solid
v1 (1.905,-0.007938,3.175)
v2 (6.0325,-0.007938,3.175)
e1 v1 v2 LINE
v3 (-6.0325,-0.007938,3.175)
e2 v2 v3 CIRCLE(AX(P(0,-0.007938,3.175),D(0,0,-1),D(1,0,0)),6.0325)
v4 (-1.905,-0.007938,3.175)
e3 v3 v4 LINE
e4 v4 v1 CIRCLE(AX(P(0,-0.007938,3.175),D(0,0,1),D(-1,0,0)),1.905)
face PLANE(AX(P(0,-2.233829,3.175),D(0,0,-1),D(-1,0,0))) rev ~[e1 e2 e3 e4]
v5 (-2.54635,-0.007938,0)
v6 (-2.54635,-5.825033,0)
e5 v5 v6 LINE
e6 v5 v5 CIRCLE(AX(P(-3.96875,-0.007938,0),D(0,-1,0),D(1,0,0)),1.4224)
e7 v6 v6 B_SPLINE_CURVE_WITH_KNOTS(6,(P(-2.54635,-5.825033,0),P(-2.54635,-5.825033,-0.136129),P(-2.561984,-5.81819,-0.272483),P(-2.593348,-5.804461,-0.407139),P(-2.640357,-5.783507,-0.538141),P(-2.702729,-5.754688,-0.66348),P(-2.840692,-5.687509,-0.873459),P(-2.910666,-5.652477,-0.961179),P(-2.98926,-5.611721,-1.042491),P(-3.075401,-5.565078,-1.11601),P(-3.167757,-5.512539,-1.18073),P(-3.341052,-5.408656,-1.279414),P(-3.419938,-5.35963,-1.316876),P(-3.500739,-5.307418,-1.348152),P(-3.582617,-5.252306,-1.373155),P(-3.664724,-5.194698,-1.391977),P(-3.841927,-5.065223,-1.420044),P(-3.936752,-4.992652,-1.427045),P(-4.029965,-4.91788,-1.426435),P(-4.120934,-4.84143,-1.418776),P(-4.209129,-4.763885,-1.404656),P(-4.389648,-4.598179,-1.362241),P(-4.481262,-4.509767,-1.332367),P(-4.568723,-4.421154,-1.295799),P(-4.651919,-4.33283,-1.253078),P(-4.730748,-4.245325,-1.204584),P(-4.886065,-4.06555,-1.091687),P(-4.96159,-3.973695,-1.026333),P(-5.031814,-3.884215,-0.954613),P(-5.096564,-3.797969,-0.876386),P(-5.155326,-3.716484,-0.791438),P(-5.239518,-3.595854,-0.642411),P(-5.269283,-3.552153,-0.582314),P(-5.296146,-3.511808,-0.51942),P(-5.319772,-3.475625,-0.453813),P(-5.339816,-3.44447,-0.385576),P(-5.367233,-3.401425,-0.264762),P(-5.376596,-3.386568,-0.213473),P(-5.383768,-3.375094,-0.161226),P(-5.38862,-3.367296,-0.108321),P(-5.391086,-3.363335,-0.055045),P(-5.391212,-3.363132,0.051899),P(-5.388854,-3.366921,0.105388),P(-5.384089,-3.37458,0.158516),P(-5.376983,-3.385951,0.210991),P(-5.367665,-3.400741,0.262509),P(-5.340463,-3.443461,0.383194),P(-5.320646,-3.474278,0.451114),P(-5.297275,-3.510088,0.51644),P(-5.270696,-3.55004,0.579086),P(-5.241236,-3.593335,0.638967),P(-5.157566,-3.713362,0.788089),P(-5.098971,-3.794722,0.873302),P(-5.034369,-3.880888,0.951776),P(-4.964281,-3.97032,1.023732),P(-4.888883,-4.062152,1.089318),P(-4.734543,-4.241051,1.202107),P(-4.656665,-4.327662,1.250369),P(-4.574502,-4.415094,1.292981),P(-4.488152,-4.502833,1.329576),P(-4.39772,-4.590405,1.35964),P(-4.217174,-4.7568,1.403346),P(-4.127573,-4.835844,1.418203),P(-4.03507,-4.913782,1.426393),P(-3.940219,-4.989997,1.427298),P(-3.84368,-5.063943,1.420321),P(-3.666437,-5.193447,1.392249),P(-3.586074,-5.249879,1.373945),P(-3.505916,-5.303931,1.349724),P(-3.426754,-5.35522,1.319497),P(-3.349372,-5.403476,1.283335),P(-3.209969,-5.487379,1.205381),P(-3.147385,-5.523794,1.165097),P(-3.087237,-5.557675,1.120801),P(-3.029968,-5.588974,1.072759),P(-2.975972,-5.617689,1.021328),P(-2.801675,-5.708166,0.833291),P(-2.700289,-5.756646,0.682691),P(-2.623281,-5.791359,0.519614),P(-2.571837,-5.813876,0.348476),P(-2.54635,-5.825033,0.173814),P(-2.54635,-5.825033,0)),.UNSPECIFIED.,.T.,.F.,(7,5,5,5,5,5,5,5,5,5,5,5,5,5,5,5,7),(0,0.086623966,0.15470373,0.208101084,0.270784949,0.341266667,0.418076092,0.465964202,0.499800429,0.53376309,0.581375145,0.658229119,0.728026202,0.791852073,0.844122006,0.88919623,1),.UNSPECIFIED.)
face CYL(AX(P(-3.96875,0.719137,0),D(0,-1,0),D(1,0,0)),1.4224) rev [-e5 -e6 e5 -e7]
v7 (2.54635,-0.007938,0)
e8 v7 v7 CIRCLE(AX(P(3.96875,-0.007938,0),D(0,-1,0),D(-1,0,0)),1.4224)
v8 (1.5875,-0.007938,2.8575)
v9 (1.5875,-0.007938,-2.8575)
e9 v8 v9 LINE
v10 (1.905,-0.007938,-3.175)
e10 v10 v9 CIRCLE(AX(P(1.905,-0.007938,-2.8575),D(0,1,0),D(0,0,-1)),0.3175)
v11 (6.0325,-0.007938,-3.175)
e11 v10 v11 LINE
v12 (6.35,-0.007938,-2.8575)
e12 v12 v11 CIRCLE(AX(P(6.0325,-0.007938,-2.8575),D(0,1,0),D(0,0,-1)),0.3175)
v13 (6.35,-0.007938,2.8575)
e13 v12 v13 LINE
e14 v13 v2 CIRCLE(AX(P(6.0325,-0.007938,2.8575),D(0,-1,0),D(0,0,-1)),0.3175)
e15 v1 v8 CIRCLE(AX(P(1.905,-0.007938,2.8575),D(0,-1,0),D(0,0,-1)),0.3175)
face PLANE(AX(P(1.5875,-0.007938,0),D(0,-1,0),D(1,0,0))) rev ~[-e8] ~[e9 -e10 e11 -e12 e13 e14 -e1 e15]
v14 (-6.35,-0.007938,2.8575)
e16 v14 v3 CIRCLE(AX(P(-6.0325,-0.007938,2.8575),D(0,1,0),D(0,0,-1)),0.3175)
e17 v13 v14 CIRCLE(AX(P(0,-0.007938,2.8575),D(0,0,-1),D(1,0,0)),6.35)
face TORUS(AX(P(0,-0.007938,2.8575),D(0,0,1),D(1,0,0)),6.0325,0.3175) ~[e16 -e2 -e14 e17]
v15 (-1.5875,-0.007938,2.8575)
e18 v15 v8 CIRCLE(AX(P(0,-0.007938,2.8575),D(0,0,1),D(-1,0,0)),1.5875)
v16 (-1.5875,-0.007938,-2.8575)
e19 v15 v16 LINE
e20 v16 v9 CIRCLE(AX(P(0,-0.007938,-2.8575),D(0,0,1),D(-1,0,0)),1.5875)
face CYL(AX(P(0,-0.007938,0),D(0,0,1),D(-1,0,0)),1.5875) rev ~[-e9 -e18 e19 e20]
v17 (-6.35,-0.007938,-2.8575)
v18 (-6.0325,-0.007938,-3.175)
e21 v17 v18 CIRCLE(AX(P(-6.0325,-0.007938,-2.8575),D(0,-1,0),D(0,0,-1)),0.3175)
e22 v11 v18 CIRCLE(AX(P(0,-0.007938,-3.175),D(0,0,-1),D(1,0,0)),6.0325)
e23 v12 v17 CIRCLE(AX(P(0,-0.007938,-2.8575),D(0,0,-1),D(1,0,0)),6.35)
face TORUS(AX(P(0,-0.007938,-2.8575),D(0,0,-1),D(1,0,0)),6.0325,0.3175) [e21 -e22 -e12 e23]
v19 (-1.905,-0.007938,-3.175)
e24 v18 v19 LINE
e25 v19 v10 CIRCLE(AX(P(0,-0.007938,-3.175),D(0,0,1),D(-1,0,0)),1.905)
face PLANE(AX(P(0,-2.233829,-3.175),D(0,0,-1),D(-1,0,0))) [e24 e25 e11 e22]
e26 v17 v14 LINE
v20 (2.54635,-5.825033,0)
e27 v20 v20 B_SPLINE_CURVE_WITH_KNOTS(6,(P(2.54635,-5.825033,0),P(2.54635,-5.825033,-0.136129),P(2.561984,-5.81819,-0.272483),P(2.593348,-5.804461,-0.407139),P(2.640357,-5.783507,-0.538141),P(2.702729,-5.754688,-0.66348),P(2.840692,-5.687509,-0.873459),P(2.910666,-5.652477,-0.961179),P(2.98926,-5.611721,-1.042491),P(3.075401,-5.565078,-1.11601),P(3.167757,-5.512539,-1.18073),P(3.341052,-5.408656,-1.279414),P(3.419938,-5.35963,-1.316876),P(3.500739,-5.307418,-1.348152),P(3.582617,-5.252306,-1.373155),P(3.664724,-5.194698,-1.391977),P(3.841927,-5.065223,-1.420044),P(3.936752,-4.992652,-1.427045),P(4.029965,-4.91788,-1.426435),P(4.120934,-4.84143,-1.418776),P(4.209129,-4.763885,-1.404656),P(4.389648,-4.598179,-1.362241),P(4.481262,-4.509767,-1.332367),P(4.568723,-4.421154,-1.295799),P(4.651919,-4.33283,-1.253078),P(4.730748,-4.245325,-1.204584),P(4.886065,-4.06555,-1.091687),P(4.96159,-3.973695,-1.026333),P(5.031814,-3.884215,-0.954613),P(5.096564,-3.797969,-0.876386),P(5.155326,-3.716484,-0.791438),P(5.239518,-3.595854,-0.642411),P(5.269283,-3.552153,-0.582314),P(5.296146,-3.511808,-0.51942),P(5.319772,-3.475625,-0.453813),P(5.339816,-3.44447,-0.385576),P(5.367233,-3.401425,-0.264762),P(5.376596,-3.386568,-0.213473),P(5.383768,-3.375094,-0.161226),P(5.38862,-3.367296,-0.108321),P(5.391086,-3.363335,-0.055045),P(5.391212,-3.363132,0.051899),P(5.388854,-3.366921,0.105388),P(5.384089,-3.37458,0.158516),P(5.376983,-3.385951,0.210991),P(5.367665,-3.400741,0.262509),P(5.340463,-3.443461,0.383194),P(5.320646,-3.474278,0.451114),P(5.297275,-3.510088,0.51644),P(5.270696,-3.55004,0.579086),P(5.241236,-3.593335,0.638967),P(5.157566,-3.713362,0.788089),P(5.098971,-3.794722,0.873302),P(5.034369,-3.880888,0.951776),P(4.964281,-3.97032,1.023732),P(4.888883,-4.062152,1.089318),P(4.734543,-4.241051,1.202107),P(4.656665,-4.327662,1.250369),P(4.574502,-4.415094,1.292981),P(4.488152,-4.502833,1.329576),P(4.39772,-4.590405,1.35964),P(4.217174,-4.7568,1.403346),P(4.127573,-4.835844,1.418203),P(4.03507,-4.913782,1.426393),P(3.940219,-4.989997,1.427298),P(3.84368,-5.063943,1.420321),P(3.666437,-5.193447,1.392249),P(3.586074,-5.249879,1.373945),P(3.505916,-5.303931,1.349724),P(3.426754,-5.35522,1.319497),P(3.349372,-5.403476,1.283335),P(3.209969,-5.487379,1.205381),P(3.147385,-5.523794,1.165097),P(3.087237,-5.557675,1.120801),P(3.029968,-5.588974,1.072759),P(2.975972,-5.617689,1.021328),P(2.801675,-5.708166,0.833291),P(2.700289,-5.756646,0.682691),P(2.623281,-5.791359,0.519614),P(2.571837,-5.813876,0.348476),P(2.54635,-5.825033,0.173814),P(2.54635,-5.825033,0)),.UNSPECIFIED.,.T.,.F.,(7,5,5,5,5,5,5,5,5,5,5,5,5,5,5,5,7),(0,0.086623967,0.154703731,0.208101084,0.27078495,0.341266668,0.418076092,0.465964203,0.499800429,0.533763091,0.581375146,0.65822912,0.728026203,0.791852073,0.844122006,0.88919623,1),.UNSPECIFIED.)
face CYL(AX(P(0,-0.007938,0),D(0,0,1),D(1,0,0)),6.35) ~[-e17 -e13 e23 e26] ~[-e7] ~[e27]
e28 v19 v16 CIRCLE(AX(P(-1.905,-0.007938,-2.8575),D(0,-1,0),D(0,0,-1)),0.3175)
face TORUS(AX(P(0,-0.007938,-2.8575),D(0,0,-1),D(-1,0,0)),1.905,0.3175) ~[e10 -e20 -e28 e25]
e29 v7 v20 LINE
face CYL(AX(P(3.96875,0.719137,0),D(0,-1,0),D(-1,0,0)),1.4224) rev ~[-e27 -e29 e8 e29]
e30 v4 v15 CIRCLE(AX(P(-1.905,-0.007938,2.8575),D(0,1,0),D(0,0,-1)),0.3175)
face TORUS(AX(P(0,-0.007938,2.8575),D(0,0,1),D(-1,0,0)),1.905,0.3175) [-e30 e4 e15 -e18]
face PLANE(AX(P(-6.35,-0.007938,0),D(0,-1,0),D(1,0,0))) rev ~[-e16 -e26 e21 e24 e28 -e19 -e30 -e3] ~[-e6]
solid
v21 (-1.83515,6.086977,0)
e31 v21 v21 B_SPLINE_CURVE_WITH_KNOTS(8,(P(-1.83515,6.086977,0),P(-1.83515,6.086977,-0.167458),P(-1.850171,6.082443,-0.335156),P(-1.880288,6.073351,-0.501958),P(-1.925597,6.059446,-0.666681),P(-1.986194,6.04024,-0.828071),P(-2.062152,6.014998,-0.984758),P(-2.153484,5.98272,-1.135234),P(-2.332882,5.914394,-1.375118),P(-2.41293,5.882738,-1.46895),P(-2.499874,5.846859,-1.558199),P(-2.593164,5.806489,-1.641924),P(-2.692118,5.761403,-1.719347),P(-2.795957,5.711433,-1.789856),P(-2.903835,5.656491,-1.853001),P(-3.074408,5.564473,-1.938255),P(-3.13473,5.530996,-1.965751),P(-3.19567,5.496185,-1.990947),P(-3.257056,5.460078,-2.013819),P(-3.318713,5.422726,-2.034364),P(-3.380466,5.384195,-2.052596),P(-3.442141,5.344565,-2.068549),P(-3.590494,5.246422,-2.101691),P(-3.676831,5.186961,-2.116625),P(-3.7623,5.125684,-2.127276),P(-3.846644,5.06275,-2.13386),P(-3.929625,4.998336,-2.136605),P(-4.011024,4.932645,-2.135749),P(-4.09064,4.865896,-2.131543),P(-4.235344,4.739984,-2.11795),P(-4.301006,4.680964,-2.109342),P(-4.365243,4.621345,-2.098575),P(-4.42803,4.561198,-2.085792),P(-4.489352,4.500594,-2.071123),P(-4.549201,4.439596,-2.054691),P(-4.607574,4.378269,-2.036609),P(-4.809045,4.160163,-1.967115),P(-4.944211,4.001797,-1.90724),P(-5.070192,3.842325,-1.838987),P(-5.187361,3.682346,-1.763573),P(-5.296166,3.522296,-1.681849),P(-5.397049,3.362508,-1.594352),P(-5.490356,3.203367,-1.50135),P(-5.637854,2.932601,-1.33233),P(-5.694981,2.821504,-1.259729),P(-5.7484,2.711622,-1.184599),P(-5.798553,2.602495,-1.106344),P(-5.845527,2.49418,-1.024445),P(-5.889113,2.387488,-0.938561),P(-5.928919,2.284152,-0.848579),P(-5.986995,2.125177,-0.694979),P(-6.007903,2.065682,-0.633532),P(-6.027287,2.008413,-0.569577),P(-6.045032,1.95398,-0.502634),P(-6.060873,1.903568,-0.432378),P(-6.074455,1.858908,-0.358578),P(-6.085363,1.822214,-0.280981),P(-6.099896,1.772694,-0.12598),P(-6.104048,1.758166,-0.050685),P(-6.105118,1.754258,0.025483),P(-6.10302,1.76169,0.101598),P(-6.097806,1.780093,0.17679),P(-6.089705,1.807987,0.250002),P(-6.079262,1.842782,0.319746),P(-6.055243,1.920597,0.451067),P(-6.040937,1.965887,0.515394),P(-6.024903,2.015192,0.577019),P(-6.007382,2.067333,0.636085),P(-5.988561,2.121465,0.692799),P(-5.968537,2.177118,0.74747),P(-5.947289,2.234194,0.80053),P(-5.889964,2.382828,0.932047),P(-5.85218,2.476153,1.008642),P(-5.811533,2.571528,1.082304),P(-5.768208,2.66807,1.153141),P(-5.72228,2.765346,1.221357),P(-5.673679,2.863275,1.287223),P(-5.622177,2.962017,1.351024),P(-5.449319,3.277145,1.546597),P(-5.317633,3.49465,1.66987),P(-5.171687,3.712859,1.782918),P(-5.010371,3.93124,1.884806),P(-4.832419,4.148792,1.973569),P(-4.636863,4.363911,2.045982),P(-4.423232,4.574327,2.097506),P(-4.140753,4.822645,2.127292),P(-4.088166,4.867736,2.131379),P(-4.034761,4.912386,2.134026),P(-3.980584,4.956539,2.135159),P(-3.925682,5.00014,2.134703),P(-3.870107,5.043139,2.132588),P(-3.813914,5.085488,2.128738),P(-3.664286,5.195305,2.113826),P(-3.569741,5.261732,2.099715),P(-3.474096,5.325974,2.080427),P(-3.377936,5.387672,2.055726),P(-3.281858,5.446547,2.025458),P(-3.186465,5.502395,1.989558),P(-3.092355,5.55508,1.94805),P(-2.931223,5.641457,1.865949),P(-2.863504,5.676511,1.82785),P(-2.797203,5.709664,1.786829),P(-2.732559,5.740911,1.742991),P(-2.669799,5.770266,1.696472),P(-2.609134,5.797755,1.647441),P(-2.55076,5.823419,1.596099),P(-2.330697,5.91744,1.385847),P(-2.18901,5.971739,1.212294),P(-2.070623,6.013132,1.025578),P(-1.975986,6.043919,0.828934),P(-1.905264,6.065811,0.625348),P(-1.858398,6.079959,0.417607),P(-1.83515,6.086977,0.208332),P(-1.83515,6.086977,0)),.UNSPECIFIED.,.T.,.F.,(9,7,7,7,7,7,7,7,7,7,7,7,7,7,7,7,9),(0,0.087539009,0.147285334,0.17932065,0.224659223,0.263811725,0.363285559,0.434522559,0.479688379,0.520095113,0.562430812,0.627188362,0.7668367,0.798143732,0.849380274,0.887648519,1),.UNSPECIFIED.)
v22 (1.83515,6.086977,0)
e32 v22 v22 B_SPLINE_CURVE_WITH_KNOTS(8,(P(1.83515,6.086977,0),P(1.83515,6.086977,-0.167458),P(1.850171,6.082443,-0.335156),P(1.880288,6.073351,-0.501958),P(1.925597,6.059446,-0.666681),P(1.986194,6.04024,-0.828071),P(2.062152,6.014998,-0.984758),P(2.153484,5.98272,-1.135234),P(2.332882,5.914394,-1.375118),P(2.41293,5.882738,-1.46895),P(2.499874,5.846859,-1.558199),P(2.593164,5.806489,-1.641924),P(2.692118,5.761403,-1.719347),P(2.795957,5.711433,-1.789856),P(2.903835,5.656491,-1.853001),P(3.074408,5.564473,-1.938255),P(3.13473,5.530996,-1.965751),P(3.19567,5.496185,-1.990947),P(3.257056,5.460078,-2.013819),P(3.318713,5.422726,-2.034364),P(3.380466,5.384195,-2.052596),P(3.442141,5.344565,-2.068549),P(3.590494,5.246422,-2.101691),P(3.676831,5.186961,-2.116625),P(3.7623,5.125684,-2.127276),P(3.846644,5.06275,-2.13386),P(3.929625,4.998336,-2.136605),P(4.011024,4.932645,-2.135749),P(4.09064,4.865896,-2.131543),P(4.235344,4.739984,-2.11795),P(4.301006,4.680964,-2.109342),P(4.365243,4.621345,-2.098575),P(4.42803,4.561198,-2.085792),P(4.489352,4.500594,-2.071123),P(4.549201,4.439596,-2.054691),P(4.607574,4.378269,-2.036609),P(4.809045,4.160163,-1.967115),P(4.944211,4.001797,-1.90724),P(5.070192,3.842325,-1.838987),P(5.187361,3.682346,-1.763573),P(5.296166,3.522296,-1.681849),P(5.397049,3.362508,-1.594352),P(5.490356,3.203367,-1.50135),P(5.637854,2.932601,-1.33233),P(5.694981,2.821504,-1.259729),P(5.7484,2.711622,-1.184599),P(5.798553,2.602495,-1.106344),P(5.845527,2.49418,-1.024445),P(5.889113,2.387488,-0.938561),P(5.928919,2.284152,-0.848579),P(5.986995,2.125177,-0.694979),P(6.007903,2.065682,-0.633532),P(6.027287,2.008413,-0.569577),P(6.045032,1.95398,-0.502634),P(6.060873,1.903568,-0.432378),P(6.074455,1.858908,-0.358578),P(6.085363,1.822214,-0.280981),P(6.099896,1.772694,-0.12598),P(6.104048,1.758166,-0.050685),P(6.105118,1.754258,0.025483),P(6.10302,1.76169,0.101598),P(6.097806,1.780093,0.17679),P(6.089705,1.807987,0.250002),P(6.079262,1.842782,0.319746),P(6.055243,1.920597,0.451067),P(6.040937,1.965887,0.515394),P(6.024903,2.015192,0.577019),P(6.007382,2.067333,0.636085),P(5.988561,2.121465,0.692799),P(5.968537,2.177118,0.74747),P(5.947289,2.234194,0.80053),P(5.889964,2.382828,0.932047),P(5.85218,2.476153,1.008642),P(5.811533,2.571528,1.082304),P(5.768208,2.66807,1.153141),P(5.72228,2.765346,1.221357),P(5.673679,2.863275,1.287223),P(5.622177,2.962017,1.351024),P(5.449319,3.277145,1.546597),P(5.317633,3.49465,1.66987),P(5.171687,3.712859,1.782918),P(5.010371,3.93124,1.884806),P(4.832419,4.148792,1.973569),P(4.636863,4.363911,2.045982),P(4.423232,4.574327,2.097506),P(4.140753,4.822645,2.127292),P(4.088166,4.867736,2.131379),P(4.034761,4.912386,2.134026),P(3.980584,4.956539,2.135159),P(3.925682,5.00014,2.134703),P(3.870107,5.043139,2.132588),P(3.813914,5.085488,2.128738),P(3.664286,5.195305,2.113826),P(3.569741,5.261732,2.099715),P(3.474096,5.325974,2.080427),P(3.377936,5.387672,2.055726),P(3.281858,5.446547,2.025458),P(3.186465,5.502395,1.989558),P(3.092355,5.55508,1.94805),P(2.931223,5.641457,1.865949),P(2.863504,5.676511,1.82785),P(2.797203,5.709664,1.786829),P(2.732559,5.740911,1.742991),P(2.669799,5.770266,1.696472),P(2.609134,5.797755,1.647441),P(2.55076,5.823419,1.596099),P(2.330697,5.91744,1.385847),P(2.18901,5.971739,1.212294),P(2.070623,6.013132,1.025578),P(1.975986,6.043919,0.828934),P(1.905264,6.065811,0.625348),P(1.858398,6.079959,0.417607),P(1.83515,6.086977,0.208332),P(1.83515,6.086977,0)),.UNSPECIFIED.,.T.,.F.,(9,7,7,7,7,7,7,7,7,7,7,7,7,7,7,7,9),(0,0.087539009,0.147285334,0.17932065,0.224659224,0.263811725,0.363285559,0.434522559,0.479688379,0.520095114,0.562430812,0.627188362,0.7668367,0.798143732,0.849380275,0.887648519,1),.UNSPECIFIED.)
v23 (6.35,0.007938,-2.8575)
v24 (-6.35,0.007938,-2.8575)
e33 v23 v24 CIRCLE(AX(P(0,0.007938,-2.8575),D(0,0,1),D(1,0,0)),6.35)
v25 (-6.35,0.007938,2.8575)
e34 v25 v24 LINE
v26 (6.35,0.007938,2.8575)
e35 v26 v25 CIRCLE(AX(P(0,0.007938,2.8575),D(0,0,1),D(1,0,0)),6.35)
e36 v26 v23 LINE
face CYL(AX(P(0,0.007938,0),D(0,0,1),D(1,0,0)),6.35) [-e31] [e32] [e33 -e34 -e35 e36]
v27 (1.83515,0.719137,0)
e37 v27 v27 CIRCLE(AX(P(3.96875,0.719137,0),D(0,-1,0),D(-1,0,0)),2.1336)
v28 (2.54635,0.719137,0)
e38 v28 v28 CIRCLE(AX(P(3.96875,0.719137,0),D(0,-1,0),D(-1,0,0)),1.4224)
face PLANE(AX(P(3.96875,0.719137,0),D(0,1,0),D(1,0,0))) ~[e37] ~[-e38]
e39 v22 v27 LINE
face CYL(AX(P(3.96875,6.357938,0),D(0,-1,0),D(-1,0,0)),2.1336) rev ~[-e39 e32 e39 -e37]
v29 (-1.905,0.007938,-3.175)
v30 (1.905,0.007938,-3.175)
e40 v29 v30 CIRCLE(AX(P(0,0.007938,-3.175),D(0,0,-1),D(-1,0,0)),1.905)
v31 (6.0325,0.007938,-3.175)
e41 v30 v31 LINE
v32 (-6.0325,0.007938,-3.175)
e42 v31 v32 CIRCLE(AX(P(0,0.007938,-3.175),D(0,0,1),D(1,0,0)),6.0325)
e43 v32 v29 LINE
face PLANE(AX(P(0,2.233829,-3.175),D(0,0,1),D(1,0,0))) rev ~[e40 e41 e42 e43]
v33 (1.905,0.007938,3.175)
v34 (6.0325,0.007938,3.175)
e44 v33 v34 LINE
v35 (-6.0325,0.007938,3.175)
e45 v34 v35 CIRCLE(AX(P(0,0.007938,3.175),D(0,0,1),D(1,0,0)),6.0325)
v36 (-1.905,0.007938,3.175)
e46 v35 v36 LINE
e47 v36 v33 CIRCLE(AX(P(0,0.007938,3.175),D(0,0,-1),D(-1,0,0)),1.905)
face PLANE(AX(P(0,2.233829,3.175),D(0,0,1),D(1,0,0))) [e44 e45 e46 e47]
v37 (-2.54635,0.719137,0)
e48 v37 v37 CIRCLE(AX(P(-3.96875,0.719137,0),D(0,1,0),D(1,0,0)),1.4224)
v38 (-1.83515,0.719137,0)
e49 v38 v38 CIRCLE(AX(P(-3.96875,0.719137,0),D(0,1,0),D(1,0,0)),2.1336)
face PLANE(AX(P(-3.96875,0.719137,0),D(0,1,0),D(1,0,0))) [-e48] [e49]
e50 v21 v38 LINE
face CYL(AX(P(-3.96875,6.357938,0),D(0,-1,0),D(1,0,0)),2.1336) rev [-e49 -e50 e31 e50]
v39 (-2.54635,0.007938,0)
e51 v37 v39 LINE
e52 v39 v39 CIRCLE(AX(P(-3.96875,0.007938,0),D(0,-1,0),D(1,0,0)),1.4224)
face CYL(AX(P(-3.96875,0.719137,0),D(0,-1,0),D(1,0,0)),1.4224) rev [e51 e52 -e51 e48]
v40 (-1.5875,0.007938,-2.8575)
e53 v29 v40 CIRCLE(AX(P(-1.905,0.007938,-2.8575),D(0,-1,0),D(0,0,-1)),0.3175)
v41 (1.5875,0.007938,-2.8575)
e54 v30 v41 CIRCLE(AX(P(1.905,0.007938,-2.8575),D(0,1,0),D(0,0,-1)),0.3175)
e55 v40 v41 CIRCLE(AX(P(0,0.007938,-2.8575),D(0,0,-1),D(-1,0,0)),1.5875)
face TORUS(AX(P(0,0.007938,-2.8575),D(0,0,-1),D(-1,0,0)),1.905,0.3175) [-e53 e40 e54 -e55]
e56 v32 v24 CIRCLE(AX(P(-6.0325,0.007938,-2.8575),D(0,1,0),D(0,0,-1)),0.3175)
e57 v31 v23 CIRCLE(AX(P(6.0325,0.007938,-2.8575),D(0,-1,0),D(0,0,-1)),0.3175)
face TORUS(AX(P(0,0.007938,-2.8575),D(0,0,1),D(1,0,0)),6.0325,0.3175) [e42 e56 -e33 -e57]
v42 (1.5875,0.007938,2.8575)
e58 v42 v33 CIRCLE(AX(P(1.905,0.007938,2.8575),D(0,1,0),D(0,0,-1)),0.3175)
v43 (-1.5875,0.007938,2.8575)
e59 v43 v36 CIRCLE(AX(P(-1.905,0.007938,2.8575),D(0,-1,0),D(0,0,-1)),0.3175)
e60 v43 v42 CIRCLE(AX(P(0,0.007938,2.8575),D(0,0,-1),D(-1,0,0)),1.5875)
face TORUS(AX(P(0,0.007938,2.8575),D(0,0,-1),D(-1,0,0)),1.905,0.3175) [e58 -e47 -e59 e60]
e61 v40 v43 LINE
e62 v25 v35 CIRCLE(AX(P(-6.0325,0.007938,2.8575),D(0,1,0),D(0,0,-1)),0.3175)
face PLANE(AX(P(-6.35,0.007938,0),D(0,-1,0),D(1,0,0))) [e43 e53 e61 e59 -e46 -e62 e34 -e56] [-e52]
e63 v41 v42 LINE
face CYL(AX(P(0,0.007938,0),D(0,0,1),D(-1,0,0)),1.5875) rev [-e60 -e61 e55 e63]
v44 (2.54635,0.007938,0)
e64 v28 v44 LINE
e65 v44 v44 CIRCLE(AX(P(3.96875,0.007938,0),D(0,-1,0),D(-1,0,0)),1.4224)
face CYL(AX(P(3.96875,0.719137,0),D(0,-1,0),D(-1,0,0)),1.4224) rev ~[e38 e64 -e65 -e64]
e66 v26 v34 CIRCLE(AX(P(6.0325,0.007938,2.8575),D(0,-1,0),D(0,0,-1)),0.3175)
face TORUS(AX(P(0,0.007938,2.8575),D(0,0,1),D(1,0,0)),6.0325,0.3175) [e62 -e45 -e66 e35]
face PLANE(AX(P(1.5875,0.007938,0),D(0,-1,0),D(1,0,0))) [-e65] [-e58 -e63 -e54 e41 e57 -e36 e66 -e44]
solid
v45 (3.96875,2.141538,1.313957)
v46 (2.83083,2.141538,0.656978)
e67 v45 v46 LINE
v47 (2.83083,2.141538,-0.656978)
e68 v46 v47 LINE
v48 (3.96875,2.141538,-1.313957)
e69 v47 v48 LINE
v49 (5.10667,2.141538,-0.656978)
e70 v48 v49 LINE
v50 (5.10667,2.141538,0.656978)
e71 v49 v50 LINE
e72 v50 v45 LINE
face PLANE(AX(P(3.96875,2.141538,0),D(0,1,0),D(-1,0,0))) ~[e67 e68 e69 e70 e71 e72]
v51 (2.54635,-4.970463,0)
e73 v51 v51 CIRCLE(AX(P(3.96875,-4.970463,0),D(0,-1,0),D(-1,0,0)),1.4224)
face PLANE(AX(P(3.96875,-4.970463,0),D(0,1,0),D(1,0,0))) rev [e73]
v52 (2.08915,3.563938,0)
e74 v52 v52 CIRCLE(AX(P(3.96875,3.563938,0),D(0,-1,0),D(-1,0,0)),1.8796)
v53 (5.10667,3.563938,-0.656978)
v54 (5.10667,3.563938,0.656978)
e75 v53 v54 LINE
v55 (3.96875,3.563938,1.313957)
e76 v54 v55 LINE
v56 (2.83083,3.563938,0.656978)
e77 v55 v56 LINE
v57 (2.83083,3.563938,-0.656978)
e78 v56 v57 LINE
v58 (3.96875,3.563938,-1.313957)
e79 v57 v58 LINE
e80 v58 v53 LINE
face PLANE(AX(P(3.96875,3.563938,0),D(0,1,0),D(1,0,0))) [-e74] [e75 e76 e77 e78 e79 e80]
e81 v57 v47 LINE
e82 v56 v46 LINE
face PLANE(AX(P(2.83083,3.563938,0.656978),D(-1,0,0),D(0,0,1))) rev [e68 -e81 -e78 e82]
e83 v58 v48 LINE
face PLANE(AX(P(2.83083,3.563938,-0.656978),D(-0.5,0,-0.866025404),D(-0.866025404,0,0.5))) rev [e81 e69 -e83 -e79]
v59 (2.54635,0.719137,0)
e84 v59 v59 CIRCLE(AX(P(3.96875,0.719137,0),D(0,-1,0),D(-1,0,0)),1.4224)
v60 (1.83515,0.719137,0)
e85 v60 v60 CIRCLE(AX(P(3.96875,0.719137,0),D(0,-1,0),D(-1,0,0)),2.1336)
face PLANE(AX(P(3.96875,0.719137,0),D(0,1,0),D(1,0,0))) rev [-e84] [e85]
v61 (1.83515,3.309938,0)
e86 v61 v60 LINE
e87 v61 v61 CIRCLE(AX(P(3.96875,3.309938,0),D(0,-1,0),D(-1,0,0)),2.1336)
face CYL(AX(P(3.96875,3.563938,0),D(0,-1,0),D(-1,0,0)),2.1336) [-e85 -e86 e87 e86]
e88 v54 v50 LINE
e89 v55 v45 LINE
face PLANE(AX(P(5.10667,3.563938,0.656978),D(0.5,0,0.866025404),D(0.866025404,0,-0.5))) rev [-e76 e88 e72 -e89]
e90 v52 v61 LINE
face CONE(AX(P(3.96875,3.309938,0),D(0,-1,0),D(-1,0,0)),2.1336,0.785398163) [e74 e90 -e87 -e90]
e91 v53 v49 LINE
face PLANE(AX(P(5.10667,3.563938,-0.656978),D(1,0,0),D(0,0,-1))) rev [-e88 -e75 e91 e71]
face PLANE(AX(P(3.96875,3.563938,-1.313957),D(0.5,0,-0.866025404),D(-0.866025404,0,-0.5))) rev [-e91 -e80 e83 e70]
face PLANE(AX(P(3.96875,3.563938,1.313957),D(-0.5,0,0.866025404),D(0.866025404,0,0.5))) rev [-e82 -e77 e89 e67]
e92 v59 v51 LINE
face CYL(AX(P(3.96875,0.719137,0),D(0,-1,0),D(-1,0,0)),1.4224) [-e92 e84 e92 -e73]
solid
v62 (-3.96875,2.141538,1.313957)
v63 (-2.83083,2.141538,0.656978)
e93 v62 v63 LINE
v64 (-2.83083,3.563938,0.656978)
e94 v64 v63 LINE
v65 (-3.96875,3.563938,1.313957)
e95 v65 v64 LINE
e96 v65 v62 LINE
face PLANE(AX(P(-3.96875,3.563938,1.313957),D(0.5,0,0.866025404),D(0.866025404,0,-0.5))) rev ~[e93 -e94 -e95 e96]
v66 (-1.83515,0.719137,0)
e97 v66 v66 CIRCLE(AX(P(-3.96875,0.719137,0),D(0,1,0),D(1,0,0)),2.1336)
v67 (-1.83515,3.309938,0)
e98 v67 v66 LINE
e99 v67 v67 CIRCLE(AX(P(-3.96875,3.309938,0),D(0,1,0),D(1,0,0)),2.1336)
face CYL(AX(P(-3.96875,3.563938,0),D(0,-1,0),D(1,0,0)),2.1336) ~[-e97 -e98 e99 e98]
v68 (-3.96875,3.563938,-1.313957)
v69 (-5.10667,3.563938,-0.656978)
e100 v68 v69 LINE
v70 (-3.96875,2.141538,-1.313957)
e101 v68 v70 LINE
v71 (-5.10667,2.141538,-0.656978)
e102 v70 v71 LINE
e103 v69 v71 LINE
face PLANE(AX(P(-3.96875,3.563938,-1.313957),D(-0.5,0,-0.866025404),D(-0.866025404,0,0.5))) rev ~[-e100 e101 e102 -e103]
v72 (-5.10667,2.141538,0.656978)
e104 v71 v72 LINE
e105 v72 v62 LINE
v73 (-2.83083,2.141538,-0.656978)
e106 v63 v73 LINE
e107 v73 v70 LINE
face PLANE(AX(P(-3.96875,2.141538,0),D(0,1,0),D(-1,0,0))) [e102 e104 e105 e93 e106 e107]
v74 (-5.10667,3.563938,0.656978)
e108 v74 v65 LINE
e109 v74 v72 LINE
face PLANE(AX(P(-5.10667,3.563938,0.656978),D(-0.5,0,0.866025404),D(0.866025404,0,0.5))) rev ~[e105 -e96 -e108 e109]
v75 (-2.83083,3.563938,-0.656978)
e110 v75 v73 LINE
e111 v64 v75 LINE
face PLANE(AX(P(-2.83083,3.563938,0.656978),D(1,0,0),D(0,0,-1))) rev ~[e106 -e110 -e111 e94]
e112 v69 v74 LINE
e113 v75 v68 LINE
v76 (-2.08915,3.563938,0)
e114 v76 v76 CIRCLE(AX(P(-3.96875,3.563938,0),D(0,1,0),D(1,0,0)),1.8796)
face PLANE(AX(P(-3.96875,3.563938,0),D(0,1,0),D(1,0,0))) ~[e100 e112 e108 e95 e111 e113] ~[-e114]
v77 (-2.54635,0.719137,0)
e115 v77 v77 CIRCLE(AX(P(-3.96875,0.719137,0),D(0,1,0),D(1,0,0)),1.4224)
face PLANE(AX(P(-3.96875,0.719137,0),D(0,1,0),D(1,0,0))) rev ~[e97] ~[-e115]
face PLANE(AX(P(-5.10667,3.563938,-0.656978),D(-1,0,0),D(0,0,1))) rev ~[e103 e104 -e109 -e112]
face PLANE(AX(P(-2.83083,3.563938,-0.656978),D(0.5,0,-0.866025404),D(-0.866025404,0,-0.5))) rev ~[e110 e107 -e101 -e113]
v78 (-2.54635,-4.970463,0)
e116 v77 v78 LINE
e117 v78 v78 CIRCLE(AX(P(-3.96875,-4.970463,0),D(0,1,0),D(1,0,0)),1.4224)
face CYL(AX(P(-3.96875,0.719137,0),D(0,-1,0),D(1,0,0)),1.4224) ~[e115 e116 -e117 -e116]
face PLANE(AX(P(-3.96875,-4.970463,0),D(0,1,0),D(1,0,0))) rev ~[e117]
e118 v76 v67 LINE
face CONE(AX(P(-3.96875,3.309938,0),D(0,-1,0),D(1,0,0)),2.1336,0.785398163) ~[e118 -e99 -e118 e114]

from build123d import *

# Parameters (mm, degrees)
EXTRUDE1_DEPTH     = 3.175
EXTRUDE1_2_DEPTH   = 3.175
CUT_EXTRUDE2_DEPTH = 1.4224
FILLET1_R          = 0.3175
FILLET2_R          = 0.3175
CHAMFER1_SIZE      = 0.254
CHAMFER2_SIZE      = 0.254


with BuildPart() as part:
    # Sketch1 → Extrude1 (new, symmetric)
    with BuildSketch(Plane.XY):
        with BuildLine():
            Line((-6.35, 0.0079375), (-1.5875, 0.0079375))
            ThreePointArc((-1.5875, 0.0079375), (0, 1.5954375), (1.5875, 0.0079375))
            Line((1.5875, 0.0079375), (6.35, 0.0079375))
            ThreePointArc((6.35, 0.0079375), (0, 6.3579375), (-6.35, 0.0079375))
        make_face()
    extrude(amount=EXTRUDE1_DEPTH, both=True)


with BuildPart() as body_2:
    # Sketch1 → Extrude1 2 (new, symmetric)
    with BuildSketch(Plane.XY):
        with BuildLine():
            Line((-6.35, -0.0079375), (-1.5875, -0.0079375))
            ThreePointArc((-1.5875, -0.0079375), (0, -1.5954375), (1.5875, -0.0079375))
            Line((1.5875, -0.0079375), (6.35, -0.0079375))
            ThreePointArc((6.35, -0.0079375), (0, -6.3579375), (-6.35, -0.0079375))
        make_face()
    extrude(amount=EXTRUDE1_2_DEPTH, both=True)


with BuildPart() as cut_revolve1_tool:
    # Sketch4 → Cut-Revolve1 (revolve)
    with BuildSketch(Plane.XY):
        Polygon((-3.96875, 6.3579375), (-1.83515, 6.3579375), (-1.83515, 0.7191375), (-2.54635, 0.7191375), (-2.54635, -6.3579375), (-3.96875, -6.3579375), align=None)
    cut_revolve1 = revolve(axis=Axis((-3.96875, -6.3579375, 0), (0, 1, 0)))


with BuildPart() as part_1:
    add(part.part)

    # Cut-Revolve1: cut by cut_revolve1_tool
    add(cut_revolve1_tool.part, mode=Mode.SUBTRACT)


with BuildPart() as body_2_1:
    add(body_2.part)

    # Cut-Revolve1: cut by cut_revolve1_tool
    add(cut_revolve1_tool.part, mode=Mode.SUBTRACT)


with BuildPart() as body_3:
    # Sketch6 → Revolve1 (revolve)
    with BuildSketch(Plane.XY):
        Polygon((-3.96875, 3.5639375), (-1.83515, 3.5639375), (-1.83515, 0.7191375), (-2.54635, 0.7191375), (-2.54635, -4.9704625), (-3.96875, -4.9704625), align=None)
    revolve(axis=Axis((-3.96875, -4.9704625, 0), (0, 1, 0)))

    # Sketch7 → Cut-Extrude2 (cut)
    with BuildSketch(Plane(origin=(0, 3.5639375, 0), x_dir=(-1, 0, 0), z_dir=(0, 1, 0))):
        Polygon((3.96875, -1.313956837), (5.10667, -0.656978418), (5.10667, 0.656978418), (3.96875, 1.313956837), (2.83083, 0.656978418), (2.83083, -0.656978418), align=None)
    extrude(amount=-CUT_EXTRUDE2_DEPTH, mode=Mode.SUBTRACT)


with BuildPart() as mirror1_tool:
    # Mirror1: Cut-Revolve1 across plane
    add(cut_revolve1.mirror(Plane(origin=(0, 0, 0), x_dir=(0, 0, 1), z_dir=(1, 0, 0))))


with BuildPart() as part_2:
    add(part_1.part)

    # Mirror1: cut by mirror1_tool
    add(mirror1_tool.part, mode=Mode.SUBTRACT)

    # Fillet1
    fillet1_edges = [part_2.edges().sort_by_distance(p)[0] for p in [
        (0, 6.3579375, -3.175),
        (0, 6.3579375, 3.175),
        (0, 1.5954375, -3.175),
        (0, 1.5954375, 3.175),
    ]]
    fillet(fillet1_edges, radius=FILLET1_R)


with BuildPart() as body_2_2:
    add(body_2_1.part)

    # Mirror1: cut by mirror1_tool
    add(mirror1_tool.part, mode=Mode.SUBTRACT)

    # Fillet2
    fillet2_edges = [body_2_2.edges().sort_by_distance(p)[0] for p in [
        (0, -6.3579375, -3.175),
        (0, -6.3579375, 3.175),
        (0, -1.5954375, -3.175),
        (0, -1.5954375, 3.175),
    ]]
    fillet(fillet2_edges, radius=FILLET2_R)


with BuildPart() as body_4:
    # Mirror2: mirrored copy
    add(body_3.part.mirror(Plane(origin=(0, 0, 0), x_dir=(0, 0, 1), z_dir=(1, 0, 0))))

    # Chamfer2
    chamfer2_edges = [body_4.edges().sort_by_distance(p)[0] for p in [
        (6.10235, 3.5639375, 0),
    ]]
    chamfer(chamfer2_edges, length=CHAMFER2_SIZE)


with BuildPart() as body_3_1:
    add(body_3.part)

    # Chamfer1
    chamfer1_edges = [body_3_1.edges().sort_by_distance(p)[0] for p in [
        (-6.10235, 3.5639375, 0),
    ]]
    chamfer(chamfer1_edges, length=CHAMFER1_SIZE)


solid = Compound([part_2.part, body_2_2.part, body_4.part, body_3_1.part])
